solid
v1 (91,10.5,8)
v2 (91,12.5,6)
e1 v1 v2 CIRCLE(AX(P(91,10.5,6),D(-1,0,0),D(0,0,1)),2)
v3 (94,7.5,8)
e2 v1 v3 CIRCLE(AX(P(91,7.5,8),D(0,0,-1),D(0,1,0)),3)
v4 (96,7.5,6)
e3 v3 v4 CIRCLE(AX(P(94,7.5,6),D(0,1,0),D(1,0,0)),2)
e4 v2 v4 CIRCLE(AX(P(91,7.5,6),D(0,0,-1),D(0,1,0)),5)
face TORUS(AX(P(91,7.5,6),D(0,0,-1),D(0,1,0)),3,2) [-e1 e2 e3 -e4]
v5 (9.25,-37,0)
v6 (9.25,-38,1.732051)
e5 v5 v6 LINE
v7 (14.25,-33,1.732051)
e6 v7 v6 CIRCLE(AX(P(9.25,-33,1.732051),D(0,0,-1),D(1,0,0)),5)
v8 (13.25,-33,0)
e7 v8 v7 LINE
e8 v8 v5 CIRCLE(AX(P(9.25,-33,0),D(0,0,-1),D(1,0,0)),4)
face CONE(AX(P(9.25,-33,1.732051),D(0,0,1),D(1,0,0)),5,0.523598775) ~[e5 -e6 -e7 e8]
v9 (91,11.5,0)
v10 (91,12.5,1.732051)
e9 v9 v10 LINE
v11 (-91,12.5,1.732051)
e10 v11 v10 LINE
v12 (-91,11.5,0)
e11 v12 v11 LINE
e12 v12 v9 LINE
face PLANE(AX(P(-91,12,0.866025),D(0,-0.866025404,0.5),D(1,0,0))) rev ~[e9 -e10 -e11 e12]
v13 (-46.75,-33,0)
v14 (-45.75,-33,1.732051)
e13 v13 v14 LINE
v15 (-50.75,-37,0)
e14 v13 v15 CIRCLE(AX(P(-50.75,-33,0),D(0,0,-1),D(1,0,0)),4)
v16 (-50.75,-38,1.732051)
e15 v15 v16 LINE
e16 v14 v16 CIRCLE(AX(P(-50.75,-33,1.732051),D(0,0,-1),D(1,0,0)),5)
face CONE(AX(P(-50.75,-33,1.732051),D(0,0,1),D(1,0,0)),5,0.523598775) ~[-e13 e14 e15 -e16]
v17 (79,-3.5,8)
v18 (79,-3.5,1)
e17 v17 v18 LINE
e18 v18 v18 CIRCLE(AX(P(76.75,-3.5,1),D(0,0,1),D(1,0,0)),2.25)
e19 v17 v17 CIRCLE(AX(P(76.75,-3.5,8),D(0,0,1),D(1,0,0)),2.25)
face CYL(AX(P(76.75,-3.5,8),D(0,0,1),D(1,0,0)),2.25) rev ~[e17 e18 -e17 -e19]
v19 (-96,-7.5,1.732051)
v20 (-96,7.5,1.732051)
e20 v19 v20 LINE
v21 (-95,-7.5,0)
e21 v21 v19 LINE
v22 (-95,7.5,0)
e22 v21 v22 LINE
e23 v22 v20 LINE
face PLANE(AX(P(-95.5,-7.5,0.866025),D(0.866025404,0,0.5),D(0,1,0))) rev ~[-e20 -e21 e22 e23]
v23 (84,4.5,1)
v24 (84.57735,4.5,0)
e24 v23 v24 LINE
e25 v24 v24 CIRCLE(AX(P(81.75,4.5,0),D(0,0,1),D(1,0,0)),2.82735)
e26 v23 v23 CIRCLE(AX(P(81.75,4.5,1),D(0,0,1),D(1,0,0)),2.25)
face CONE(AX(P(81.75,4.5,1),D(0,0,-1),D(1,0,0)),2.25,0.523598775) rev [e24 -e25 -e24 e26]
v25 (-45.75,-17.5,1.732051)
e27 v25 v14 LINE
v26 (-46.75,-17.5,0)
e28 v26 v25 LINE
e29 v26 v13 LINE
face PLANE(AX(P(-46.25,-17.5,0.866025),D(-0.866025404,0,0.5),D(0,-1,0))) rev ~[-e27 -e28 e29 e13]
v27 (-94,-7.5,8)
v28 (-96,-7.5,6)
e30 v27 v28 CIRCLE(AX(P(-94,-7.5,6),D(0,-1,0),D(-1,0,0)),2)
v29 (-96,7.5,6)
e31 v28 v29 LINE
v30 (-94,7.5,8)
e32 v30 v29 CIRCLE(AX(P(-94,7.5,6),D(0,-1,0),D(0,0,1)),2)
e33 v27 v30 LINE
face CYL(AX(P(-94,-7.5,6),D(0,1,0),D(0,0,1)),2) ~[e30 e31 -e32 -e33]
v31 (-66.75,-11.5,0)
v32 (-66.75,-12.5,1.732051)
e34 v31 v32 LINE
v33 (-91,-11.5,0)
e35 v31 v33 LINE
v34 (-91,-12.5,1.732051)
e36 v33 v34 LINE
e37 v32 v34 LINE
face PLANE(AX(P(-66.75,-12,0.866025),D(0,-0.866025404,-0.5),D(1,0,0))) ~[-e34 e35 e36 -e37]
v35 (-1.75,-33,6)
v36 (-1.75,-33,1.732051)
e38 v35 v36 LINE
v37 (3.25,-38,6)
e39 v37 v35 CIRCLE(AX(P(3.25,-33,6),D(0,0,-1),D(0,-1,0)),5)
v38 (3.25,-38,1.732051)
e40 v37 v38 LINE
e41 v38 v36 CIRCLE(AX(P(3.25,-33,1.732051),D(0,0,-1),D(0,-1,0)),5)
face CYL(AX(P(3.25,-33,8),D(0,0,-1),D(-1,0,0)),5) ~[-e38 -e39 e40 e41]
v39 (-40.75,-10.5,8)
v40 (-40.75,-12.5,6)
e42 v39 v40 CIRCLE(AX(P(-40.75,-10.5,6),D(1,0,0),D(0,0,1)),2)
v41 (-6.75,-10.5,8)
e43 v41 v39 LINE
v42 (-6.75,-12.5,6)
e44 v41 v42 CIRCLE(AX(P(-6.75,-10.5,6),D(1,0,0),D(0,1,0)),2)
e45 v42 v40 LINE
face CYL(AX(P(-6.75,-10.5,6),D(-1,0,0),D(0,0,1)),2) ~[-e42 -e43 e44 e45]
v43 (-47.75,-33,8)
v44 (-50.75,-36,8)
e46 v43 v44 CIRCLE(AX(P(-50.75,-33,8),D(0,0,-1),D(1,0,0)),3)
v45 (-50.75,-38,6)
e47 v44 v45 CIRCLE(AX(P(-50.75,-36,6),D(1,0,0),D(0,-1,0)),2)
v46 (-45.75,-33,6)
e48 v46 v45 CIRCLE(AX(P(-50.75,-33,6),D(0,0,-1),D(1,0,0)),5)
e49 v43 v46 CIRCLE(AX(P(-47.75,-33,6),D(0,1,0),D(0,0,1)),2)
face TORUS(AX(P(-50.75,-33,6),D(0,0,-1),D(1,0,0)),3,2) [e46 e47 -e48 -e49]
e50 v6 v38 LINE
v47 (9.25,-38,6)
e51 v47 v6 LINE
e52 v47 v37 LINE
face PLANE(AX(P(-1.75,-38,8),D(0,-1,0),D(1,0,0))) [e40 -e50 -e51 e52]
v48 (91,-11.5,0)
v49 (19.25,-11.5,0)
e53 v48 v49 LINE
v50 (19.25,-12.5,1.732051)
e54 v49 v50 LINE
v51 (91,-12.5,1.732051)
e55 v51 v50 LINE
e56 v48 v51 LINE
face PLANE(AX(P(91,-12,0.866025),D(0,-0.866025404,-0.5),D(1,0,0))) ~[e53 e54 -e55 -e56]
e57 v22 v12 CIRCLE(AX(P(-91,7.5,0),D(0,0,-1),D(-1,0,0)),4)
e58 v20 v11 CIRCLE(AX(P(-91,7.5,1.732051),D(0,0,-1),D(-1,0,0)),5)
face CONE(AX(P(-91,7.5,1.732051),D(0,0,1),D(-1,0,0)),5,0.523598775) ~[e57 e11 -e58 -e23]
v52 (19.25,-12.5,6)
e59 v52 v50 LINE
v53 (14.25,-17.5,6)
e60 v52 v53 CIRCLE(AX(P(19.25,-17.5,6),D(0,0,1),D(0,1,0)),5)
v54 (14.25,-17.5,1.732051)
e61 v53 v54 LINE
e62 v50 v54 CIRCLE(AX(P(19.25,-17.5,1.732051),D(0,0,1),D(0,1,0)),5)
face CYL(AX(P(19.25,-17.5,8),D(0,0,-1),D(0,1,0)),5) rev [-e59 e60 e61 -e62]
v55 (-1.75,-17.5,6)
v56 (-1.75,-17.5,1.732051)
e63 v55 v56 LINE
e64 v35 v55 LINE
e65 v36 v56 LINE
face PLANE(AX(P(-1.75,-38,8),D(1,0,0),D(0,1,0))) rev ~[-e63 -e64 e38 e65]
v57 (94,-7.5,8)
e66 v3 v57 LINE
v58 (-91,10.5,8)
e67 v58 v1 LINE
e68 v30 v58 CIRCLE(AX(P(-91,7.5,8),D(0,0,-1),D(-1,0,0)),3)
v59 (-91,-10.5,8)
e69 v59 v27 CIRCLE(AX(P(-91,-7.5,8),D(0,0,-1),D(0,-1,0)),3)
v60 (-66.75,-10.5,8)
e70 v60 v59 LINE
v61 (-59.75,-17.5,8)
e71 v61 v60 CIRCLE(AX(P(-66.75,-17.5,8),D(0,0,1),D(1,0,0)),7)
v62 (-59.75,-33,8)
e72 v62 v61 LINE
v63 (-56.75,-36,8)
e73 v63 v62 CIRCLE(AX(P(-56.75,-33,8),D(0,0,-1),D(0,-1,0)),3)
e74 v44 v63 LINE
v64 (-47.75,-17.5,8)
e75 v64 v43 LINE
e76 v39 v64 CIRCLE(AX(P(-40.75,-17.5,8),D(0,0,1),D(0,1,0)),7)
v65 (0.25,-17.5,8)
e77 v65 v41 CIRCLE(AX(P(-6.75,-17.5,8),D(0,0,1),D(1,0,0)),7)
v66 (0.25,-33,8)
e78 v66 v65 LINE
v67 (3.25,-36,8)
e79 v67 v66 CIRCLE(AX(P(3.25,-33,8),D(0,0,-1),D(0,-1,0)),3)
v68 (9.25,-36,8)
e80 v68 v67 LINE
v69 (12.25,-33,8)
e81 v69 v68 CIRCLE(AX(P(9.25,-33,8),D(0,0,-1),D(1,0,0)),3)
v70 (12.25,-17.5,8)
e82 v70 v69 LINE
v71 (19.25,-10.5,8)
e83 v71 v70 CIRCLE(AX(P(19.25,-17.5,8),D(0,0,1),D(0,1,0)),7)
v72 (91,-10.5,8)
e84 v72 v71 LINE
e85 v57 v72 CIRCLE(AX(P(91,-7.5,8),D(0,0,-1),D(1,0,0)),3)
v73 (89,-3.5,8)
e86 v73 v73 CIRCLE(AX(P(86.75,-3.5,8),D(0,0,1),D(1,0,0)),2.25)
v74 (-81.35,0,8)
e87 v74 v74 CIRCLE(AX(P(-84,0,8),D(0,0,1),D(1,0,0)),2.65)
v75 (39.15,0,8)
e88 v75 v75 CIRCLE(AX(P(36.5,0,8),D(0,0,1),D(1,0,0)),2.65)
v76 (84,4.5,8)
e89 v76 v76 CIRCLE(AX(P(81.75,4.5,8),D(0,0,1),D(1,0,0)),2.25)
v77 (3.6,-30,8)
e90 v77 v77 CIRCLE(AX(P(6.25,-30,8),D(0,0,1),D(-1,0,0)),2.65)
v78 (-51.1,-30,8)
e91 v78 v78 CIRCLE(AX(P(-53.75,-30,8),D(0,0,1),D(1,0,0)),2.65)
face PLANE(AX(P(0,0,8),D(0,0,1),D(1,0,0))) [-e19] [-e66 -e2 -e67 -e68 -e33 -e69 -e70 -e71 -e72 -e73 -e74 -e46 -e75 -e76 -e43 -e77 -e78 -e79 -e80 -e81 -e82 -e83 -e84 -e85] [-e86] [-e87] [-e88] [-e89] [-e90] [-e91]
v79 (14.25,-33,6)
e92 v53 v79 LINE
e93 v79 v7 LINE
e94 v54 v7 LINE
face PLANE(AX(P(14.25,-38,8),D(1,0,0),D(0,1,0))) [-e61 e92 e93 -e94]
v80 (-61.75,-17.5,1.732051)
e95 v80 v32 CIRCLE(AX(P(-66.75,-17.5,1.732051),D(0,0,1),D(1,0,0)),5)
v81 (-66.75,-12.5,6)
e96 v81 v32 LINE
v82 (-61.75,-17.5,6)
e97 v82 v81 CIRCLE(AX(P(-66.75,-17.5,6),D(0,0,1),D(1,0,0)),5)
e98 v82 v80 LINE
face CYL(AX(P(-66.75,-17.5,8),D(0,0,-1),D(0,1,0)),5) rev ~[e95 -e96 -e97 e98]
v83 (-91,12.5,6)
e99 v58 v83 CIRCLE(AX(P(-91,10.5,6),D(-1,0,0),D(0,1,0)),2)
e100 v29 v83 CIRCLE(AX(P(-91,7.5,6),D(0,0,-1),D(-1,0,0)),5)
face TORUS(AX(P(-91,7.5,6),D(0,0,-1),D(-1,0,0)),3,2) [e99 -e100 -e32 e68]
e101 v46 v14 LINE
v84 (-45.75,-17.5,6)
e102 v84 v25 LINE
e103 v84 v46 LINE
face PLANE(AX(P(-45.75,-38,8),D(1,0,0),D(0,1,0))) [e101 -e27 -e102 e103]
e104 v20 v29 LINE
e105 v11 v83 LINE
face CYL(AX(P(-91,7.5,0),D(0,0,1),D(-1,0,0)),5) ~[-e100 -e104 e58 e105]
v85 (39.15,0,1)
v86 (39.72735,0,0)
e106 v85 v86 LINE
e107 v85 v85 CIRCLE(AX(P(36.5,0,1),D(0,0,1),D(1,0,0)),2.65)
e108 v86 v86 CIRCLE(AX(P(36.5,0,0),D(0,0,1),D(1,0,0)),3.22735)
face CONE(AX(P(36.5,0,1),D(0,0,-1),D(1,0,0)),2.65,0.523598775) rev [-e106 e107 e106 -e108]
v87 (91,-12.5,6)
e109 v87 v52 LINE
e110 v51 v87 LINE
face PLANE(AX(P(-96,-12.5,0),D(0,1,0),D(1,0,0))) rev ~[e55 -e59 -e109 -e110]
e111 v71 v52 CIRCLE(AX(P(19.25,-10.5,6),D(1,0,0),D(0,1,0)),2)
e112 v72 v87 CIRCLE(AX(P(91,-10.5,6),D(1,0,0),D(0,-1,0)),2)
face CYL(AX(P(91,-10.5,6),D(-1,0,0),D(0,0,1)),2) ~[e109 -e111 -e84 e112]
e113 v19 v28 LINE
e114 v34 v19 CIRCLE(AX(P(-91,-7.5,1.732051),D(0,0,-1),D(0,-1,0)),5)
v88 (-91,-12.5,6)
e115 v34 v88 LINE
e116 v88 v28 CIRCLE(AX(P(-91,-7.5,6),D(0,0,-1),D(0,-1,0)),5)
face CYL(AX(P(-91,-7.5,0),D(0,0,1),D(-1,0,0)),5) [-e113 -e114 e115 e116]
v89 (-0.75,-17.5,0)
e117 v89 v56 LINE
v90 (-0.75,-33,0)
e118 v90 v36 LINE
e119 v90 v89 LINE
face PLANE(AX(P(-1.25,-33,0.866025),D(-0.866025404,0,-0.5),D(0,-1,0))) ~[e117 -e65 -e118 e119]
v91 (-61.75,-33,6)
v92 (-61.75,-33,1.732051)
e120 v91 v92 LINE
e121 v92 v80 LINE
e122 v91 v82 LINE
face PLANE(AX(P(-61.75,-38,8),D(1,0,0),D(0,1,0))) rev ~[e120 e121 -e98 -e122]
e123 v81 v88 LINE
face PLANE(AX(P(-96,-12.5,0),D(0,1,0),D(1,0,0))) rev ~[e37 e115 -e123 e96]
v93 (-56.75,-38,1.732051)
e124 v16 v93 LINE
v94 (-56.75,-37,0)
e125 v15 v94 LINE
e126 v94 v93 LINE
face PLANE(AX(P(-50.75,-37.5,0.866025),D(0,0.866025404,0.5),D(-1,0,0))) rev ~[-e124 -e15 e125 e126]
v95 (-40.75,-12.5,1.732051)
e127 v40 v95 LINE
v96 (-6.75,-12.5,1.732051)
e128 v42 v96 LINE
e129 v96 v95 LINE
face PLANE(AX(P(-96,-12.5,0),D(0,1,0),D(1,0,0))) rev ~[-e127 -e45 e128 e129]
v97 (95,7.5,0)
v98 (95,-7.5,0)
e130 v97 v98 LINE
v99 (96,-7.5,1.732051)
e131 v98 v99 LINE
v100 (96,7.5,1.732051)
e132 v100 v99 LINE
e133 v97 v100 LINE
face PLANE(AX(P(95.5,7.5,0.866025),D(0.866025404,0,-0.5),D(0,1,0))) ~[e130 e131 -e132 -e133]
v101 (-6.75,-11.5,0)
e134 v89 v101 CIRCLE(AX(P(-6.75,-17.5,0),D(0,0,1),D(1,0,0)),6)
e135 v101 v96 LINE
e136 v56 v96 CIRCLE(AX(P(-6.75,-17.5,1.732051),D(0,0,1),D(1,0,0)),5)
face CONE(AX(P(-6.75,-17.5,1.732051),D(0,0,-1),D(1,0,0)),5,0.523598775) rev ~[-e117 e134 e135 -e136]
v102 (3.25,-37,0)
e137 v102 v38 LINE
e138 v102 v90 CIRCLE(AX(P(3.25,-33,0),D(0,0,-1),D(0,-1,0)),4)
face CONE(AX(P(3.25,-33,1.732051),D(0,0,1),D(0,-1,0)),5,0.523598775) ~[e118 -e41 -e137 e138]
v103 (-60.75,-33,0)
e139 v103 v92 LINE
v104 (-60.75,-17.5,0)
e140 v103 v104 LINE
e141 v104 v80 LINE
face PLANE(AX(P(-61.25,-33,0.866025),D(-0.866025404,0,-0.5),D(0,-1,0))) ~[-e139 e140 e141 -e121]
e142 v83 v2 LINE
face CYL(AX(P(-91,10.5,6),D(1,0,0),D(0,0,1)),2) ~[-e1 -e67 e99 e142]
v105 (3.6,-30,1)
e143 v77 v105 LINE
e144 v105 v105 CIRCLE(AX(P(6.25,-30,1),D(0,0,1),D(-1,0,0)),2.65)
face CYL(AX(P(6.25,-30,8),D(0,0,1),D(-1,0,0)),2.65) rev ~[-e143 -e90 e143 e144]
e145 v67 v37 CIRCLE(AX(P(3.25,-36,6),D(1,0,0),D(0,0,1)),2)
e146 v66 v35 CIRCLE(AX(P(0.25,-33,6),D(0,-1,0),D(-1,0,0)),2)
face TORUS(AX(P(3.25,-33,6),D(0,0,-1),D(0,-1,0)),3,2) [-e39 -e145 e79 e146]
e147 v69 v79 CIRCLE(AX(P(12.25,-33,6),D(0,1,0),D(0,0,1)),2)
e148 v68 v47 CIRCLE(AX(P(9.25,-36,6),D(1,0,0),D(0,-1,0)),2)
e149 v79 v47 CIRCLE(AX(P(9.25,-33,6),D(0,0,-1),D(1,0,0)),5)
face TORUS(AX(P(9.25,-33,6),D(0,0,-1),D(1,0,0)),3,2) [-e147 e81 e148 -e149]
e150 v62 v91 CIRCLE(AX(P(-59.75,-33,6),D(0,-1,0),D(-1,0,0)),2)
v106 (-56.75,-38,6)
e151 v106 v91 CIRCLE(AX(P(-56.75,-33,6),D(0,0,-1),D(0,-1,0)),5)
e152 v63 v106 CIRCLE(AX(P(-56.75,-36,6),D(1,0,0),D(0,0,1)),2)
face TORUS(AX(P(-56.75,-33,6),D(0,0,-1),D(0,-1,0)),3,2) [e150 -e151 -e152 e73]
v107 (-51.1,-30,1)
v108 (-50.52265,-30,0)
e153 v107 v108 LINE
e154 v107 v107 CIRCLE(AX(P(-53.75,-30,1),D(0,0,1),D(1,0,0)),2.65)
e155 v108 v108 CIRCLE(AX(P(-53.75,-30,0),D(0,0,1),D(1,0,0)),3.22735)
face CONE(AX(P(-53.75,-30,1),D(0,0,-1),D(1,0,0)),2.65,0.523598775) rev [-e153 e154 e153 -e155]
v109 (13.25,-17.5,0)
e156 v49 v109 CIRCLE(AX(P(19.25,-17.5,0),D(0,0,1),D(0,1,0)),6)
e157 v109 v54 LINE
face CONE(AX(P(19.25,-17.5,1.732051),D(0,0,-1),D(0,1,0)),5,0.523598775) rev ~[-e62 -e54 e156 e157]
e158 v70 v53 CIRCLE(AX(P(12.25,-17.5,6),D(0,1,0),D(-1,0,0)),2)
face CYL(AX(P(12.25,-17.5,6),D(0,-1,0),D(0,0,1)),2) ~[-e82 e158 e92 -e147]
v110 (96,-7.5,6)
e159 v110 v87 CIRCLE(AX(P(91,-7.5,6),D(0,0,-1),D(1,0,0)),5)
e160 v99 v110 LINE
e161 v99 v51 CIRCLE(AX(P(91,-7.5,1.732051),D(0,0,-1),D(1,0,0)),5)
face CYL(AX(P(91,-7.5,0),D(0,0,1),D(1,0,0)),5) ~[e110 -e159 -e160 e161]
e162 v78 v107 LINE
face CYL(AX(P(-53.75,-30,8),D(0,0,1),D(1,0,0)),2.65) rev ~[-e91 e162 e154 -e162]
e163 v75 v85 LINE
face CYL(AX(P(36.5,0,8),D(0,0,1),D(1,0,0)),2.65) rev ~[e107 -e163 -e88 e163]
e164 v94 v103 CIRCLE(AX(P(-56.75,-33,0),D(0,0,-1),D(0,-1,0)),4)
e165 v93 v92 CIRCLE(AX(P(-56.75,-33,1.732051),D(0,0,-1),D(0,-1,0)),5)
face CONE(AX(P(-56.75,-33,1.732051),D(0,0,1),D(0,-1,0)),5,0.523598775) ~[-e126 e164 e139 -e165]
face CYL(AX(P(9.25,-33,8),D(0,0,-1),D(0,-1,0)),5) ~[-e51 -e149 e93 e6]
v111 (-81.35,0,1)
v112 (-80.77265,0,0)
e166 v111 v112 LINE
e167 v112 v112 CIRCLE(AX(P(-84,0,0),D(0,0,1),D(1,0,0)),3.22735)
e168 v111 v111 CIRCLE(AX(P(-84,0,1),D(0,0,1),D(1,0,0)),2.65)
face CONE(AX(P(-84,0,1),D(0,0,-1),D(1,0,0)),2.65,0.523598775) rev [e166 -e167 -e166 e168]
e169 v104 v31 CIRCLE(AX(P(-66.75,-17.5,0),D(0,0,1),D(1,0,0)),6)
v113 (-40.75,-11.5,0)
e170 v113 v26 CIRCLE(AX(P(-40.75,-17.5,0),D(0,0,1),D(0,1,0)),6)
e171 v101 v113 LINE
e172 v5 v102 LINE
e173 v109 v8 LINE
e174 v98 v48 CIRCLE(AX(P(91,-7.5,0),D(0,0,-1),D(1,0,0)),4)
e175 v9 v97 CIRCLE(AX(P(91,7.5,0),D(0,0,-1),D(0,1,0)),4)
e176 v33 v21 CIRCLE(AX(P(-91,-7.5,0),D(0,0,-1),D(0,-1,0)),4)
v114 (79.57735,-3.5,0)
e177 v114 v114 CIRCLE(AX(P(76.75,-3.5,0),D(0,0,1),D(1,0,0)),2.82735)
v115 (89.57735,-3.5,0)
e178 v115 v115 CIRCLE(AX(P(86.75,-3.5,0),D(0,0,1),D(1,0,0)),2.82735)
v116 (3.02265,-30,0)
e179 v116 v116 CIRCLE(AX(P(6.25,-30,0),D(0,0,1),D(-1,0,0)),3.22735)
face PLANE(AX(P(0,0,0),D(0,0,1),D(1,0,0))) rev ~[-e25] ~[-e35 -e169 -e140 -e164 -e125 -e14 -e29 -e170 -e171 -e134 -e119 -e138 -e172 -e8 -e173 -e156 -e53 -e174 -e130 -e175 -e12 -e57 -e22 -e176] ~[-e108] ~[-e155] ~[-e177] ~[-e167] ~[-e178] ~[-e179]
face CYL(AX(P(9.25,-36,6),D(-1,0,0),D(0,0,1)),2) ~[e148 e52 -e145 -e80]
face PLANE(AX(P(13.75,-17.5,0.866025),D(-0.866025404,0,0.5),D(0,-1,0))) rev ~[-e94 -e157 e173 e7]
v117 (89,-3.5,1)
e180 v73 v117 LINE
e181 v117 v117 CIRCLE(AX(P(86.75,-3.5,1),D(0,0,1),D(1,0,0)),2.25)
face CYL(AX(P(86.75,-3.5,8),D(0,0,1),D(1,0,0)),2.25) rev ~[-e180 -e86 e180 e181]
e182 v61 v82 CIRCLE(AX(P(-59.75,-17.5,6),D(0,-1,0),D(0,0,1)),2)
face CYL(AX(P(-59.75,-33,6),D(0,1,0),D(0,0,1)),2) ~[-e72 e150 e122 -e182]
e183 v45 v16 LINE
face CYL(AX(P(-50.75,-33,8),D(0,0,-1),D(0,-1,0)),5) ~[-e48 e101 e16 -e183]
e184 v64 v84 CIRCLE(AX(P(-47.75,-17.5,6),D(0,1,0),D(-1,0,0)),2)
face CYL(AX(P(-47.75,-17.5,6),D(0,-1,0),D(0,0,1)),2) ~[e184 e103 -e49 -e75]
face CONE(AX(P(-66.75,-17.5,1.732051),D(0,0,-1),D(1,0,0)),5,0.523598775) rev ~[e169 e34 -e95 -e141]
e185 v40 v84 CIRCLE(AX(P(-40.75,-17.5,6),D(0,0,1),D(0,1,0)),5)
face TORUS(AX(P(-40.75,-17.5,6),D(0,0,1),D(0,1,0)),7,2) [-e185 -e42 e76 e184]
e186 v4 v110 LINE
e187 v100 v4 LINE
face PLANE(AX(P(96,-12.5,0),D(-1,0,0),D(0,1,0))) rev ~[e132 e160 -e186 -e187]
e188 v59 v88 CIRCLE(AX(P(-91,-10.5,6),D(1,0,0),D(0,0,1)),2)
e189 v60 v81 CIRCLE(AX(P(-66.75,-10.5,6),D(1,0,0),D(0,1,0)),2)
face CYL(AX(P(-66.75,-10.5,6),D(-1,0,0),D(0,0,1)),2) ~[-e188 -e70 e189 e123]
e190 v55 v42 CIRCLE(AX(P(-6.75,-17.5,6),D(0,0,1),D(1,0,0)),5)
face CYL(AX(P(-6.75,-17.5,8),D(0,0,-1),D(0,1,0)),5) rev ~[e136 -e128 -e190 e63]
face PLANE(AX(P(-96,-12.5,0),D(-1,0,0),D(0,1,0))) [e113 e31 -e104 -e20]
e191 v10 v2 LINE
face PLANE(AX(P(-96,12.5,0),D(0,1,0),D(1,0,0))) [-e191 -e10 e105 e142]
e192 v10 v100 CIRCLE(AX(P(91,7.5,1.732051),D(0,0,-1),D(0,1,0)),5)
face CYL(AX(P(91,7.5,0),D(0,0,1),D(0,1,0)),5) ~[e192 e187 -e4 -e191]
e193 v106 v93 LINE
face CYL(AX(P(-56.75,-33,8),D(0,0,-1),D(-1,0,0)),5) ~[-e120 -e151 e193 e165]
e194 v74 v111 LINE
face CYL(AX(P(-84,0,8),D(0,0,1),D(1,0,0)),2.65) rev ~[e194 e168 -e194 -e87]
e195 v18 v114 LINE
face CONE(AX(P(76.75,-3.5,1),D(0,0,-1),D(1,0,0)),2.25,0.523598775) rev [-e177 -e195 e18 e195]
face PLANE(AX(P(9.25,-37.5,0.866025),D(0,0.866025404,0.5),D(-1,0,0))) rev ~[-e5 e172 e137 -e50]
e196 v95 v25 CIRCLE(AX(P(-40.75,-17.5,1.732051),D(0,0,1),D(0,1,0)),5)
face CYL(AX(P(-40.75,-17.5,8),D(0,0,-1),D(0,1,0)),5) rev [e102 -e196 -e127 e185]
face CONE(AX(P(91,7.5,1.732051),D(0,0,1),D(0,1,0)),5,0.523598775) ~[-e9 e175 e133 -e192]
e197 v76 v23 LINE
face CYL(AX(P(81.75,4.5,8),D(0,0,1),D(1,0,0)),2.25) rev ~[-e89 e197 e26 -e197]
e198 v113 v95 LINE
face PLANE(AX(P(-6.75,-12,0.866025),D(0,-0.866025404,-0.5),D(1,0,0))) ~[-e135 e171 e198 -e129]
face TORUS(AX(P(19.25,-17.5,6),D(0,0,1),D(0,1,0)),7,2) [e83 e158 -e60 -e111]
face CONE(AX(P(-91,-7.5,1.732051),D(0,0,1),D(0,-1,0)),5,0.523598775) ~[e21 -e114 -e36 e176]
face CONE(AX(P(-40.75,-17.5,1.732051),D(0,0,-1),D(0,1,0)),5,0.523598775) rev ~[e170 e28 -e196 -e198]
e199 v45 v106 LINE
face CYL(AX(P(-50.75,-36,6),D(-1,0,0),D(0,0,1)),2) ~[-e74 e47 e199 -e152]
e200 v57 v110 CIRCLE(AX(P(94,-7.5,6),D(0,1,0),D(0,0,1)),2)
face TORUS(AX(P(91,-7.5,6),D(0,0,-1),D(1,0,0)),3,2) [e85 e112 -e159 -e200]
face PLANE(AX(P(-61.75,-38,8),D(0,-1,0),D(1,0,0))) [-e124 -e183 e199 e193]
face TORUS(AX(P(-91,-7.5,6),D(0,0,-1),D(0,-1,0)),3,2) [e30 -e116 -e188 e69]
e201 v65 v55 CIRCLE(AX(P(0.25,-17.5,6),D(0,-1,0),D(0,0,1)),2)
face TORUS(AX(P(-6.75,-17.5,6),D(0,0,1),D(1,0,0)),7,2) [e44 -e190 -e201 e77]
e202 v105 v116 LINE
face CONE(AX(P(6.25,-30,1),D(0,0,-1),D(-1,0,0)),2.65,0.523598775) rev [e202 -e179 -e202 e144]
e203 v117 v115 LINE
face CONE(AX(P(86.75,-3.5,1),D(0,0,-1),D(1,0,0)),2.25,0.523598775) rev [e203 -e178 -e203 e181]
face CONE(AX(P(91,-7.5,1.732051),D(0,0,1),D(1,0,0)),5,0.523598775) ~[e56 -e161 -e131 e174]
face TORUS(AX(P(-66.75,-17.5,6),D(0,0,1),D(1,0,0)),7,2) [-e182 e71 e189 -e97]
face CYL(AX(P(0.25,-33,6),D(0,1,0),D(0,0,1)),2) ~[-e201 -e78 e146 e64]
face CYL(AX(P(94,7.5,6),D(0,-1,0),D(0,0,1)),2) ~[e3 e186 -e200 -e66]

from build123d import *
from OCP.BRepFilletAPI import BRepFilletAPI_MakeChamfer

# Parameters (mm, degrees)
SKETCH2_W           = 192
SKETCH2_H           = 25
BOSS_EXTRUDE1_DEPTH = 8
SKETCH3_R           = 2.65
SKETCH3_R_2         = 2.25
CUT_EXTRUDE1_DEPTH  = 98.140362363
SKETCH5_W           = 16
SKETCH5_H           = 25.5
SKETCH5_R           = 2.65
BOSS_EXTRUDE2_DEPTH = 8
FILLET1_R           = 5
FILLET2_R           = 2
CHAMFER1_SIZE       = 1
CHAMFER1_SIZE2      = 1.732050808
CHAMFER2_SIZE       = 1
CHAMFER2_SIZE2      = 0.577350269


with BuildPart() as part:
    # Sketch2 → Boss-Extrude1 (new body)
    with BuildSketch(Plane.XY):
        Rectangle(SKETCH2_W, SKETCH2_H)
    extrude(amount=BOSS_EXTRUDE1_DEPTH)

    # Sketch3 → Cut-Extrude1 (cut, through all)
    with BuildSketch(Plane.XY.offset(8)):
        with Locations((-84, 0)):
            Circle(SKETCH3_R)
        with Locations((36.5, 0)):
            Circle(SKETCH3_R)
        with Locations((76.75, -3.5)):
            Circle(SKETCH3_R_2)
        with Locations((86.75, -3.5)):
            Circle(SKETCH3_R_2)
        with Locations((81.75, 4.5)):
            Circle(SKETCH3_R_2)
    extrude(amount=-CUT_EXTRUDE1_DEPTH, mode=Mode.SUBTRACT)

    # Sketch5 → Boss-Extrude2 (add)
    # profile 1 of 2: a face of its own
    with BuildSketch(Plane.XY.offset(8)):
        with Locations((-53.75, -25.25)):
            Rectangle(SKETCH5_W, SKETCH5_H)
        with Locations((-53.75, -30)):
            Circle(SKETCH5_R, mode=Mode.SUBTRACT)
    # profile 2 of 2: a face of its own
    with BuildSketch(Plane.XY.offset(8)):
        with Locations((6.25, -25.25)):
            Rectangle(SKETCH5_W, SKETCH5_H)
        with Locations(Location((6.25, -30, 0), (0, 0, 180))):
            Circle(SKETCH5_R, mode=Mode.SUBTRACT)
    extrude(amount=-BOSS_EXTRUDE2_DEPTH)

    # Fillet1
    fillet1_edges = [part.edges().sort_by_distance(p)[0] for p in [
        (-61.75, -38, 4),
        (-61.75, -12.5, 4),
        (-45.75, -12.5, 4),
        (-45.75, -38, 4),
        (14.25, -12.5, 4),
        (14.25, -38, 4),
        (-1.75, -38, 4),
        (-1.75, -12.5, 4),
        (96, -12.5, 4),
        (-96, -12.5, 4),
        (-96, 12.5, 4),
        (96, 12.5, 4),
    ]]
    fillet(fillet1_edges, radius=FILLET1_R)

    # Fillet2
    fillet2_edges = [part.edges().sort_by_distance(p)[0] for p in [
        (15.714466094, -13.964466094, 8),
        (-3.214466094, -13.964466094, 8),
        (-63.214466094, -13.964466094, 8),
        (-44.285533906, -13.964466094, 8),
        (14.25, -25.25, 8),
        (55.125, -12.5, 8),
        (6.25, -38, 8),
        (96, 0, 8),
        (0, 12.5, 8),
        (-96, 0, 8),
        (-78.875, -12.5, 8),
        (-61.75, -25.25, 8),
        (-53.75, -38, 8),
        (-45.75, -25.25, 8),
        (-23.75, -12.5, 8),
        (-1.75, -25.25, 8),
        (94.535533906, 11.035533906, 8),
        (94.535533906, -11.035533906, 8),
        (-94.535533906, 11.035533906, 8),
        (-94.535533906, -11.035533906, 8),
        (-47.214466094, -36.535533906, 8),
        (-60.285533906, -36.535533906, 8),
        (-0.285533906, -36.535533906, 8),
        (12.785533906, -36.535533906, 8),
    ]]
    fillet(fillet2_edges, radius=FILLET2_R)

    # Chamfer1
    chamfer1_edges = [part.edges().sort_by_distance(p)[0] for p in [
        (15.714466094, -13.964466094, 0),
        (-3.214466094, -13.964466094, 0),
        (-63.214466094, -13.964466094, 0),
        (-44.285533906, -13.964466094, 0),
        (14.25, -25.25, 0),
        (55.125, -12.5, 0),
        (6.25, -38, 0),
        (96, 0, 0),
        (-1.75, -25.25, 0),
        (-23.75, -12.5, 0),
        (-45.75, -25.25, 0),
        (-53.75, -38, 0),
        (-61.75, -25.25, 0),
        (-78.875, -12.5, 0),
        (-96, 0, 0),
        (0, 12.5, 0),
        (94.535533906, 11.035533906, 0),
        (94.535533906, -11.035533906, 0),
        (-94.535533906, 11.035533906, 0),
        (-94.535533906, -11.035533906, 0),
        (-47.214466094, -36.535533906, 0),
        (-60.285533906, -36.535533906, 0),
        (-0.285533906, -36.535533906, 0),
        (12.785533906, -36.535533906, 0),
    ]]
    chamfer1_side = [part.faces().sort_by_distance(p)[0] for p in [
        (-3.880983741, -3.433352853, 0),
    ]]
    chamfer(chamfer1_edges, length=CHAMFER1_SIZE, length2=CHAMFER1_SIZE2, reference=chamfer1_side[0])

    # Chamfer2: one chamfer whose edges measure the first distance from different faces: ONE call of the kernel's chamfer builder (chamfer() names one face for all edges)
    chamfer2_edges_1 = [part.edges().sort_by_distance(p)[0] for p in [
        (-86.65, 0, 0),
    ]]
    chamfer2_side_1 = [part.faces().sort_by_distance(p)[0] for p in [
        (-86.65, 0, 4),
    ]]
    chamfer2_edges_2 = [part.edges().sort_by_distance(p)[0] for p in [
        (33.85, 0, 0),
    ]]
    chamfer2_side_2 = [part.faces().sort_by_distance(p)[0] for p in [
        (33.85, 0, 4),
    ]]
    chamfer2_edges_3 = [part.edges().sort_by_distance(p)[0] for p in [
        (74.5, -3.5, 0),
    ]]
    chamfer2_side_3 = [part.faces().sort_by_distance(p)[0] for p in [
        (74.5, -3.5, 4),
    ]]
    chamfer2_edges_4 = [part.edges().sort_by_distance(p)[0] for p in [
        (84.5, -3.5, 0),
    ]]
    chamfer2_side_4 = [part.faces().sort_by_distance(p)[0] for p in [
        (84.5, -3.5, 4),
    ]]
    chamfer2_edges_5 = [part.edges().sort_by_distance(p)[0] for p in [
        (79.5, 4.5, 0),
    ]]
    chamfer2_side_5 = [part.faces().sort_by_distance(p)[0] for p in [
        (79.5, 4.5, 4),
    ]]
    chamfer2_edges_6 = [part.edges().sort_by_distance(p)[0] for p in [
        (-56.4, -30, 0),
    ]]
    chamfer2_side_6 = [part.faces().sort_by_distance(p)[0] for p in [
        (-56.4, -30, 4),
    ]]
    chamfer2_edges_7 = [part.edges().sort_by_distance(p)[0] for p in [
        (8.9, -30, 0),
    ]]
    chamfer2_side_7 = [part.faces().sort_by_distance(p)[0] for p in [
        (8.9, -30, 4),
    ]]
    chamfer2 = BRepFilletAPI_MakeChamfer(part.part.solid().wrapped)
    for e in chamfer2_edges_1:
        chamfer2.Add(CHAMFER2_SIZE, CHAMFER2_SIZE2, e.wrapped, chamfer2_side_1[0].wrapped)  # the first distance lies on this face
    for e in chamfer2_edges_2:
        chamfer2.Add(CHAMFER2_SIZE, CHAMFER2_SIZE2, e.wrapped, chamfer2_side_2[0].wrapped)  # the first distance lies on this face
    for e in chamfer2_edges_3:
        chamfer2.Add(CHAMFER2_SIZE, CHAMFER2_SIZE2, e.wrapped, chamfer2_side_3[0].wrapped)  # the first distance lies on this face
    for e in chamfer2_edges_4:
        chamfer2.Add(CHAMFER2_SIZE, CHAMFER2_SIZE2, e.wrapped, chamfer2_side_4[0].wrapped)  # the first distance lies on this face
    for e in chamfer2_edges_5:
        chamfer2.Add(CHAMFER2_SIZE, CHAMFER2_SIZE2, e.wrapped, chamfer2_side_5[0].wrapped)  # the first distance lies on this face
    for e in chamfer2_edges_6:
        chamfer2.Add(CHAMFER2_SIZE, CHAMFER2_SIZE2, e.wrapped, chamfer2_side_6[0].wrapped)  # the first distance lies on this face
    for e in chamfer2_edges_7:
        chamfer2.Add(CHAMFER2_SIZE, CHAMFER2_SIZE2, e.wrapped, chamfer2_side_7[0].wrapped)  # the first distance lies on this face
    add(Compound.cast(chamfer2.Shape()), mode=Mode.REPLACE)


solid = part.part
